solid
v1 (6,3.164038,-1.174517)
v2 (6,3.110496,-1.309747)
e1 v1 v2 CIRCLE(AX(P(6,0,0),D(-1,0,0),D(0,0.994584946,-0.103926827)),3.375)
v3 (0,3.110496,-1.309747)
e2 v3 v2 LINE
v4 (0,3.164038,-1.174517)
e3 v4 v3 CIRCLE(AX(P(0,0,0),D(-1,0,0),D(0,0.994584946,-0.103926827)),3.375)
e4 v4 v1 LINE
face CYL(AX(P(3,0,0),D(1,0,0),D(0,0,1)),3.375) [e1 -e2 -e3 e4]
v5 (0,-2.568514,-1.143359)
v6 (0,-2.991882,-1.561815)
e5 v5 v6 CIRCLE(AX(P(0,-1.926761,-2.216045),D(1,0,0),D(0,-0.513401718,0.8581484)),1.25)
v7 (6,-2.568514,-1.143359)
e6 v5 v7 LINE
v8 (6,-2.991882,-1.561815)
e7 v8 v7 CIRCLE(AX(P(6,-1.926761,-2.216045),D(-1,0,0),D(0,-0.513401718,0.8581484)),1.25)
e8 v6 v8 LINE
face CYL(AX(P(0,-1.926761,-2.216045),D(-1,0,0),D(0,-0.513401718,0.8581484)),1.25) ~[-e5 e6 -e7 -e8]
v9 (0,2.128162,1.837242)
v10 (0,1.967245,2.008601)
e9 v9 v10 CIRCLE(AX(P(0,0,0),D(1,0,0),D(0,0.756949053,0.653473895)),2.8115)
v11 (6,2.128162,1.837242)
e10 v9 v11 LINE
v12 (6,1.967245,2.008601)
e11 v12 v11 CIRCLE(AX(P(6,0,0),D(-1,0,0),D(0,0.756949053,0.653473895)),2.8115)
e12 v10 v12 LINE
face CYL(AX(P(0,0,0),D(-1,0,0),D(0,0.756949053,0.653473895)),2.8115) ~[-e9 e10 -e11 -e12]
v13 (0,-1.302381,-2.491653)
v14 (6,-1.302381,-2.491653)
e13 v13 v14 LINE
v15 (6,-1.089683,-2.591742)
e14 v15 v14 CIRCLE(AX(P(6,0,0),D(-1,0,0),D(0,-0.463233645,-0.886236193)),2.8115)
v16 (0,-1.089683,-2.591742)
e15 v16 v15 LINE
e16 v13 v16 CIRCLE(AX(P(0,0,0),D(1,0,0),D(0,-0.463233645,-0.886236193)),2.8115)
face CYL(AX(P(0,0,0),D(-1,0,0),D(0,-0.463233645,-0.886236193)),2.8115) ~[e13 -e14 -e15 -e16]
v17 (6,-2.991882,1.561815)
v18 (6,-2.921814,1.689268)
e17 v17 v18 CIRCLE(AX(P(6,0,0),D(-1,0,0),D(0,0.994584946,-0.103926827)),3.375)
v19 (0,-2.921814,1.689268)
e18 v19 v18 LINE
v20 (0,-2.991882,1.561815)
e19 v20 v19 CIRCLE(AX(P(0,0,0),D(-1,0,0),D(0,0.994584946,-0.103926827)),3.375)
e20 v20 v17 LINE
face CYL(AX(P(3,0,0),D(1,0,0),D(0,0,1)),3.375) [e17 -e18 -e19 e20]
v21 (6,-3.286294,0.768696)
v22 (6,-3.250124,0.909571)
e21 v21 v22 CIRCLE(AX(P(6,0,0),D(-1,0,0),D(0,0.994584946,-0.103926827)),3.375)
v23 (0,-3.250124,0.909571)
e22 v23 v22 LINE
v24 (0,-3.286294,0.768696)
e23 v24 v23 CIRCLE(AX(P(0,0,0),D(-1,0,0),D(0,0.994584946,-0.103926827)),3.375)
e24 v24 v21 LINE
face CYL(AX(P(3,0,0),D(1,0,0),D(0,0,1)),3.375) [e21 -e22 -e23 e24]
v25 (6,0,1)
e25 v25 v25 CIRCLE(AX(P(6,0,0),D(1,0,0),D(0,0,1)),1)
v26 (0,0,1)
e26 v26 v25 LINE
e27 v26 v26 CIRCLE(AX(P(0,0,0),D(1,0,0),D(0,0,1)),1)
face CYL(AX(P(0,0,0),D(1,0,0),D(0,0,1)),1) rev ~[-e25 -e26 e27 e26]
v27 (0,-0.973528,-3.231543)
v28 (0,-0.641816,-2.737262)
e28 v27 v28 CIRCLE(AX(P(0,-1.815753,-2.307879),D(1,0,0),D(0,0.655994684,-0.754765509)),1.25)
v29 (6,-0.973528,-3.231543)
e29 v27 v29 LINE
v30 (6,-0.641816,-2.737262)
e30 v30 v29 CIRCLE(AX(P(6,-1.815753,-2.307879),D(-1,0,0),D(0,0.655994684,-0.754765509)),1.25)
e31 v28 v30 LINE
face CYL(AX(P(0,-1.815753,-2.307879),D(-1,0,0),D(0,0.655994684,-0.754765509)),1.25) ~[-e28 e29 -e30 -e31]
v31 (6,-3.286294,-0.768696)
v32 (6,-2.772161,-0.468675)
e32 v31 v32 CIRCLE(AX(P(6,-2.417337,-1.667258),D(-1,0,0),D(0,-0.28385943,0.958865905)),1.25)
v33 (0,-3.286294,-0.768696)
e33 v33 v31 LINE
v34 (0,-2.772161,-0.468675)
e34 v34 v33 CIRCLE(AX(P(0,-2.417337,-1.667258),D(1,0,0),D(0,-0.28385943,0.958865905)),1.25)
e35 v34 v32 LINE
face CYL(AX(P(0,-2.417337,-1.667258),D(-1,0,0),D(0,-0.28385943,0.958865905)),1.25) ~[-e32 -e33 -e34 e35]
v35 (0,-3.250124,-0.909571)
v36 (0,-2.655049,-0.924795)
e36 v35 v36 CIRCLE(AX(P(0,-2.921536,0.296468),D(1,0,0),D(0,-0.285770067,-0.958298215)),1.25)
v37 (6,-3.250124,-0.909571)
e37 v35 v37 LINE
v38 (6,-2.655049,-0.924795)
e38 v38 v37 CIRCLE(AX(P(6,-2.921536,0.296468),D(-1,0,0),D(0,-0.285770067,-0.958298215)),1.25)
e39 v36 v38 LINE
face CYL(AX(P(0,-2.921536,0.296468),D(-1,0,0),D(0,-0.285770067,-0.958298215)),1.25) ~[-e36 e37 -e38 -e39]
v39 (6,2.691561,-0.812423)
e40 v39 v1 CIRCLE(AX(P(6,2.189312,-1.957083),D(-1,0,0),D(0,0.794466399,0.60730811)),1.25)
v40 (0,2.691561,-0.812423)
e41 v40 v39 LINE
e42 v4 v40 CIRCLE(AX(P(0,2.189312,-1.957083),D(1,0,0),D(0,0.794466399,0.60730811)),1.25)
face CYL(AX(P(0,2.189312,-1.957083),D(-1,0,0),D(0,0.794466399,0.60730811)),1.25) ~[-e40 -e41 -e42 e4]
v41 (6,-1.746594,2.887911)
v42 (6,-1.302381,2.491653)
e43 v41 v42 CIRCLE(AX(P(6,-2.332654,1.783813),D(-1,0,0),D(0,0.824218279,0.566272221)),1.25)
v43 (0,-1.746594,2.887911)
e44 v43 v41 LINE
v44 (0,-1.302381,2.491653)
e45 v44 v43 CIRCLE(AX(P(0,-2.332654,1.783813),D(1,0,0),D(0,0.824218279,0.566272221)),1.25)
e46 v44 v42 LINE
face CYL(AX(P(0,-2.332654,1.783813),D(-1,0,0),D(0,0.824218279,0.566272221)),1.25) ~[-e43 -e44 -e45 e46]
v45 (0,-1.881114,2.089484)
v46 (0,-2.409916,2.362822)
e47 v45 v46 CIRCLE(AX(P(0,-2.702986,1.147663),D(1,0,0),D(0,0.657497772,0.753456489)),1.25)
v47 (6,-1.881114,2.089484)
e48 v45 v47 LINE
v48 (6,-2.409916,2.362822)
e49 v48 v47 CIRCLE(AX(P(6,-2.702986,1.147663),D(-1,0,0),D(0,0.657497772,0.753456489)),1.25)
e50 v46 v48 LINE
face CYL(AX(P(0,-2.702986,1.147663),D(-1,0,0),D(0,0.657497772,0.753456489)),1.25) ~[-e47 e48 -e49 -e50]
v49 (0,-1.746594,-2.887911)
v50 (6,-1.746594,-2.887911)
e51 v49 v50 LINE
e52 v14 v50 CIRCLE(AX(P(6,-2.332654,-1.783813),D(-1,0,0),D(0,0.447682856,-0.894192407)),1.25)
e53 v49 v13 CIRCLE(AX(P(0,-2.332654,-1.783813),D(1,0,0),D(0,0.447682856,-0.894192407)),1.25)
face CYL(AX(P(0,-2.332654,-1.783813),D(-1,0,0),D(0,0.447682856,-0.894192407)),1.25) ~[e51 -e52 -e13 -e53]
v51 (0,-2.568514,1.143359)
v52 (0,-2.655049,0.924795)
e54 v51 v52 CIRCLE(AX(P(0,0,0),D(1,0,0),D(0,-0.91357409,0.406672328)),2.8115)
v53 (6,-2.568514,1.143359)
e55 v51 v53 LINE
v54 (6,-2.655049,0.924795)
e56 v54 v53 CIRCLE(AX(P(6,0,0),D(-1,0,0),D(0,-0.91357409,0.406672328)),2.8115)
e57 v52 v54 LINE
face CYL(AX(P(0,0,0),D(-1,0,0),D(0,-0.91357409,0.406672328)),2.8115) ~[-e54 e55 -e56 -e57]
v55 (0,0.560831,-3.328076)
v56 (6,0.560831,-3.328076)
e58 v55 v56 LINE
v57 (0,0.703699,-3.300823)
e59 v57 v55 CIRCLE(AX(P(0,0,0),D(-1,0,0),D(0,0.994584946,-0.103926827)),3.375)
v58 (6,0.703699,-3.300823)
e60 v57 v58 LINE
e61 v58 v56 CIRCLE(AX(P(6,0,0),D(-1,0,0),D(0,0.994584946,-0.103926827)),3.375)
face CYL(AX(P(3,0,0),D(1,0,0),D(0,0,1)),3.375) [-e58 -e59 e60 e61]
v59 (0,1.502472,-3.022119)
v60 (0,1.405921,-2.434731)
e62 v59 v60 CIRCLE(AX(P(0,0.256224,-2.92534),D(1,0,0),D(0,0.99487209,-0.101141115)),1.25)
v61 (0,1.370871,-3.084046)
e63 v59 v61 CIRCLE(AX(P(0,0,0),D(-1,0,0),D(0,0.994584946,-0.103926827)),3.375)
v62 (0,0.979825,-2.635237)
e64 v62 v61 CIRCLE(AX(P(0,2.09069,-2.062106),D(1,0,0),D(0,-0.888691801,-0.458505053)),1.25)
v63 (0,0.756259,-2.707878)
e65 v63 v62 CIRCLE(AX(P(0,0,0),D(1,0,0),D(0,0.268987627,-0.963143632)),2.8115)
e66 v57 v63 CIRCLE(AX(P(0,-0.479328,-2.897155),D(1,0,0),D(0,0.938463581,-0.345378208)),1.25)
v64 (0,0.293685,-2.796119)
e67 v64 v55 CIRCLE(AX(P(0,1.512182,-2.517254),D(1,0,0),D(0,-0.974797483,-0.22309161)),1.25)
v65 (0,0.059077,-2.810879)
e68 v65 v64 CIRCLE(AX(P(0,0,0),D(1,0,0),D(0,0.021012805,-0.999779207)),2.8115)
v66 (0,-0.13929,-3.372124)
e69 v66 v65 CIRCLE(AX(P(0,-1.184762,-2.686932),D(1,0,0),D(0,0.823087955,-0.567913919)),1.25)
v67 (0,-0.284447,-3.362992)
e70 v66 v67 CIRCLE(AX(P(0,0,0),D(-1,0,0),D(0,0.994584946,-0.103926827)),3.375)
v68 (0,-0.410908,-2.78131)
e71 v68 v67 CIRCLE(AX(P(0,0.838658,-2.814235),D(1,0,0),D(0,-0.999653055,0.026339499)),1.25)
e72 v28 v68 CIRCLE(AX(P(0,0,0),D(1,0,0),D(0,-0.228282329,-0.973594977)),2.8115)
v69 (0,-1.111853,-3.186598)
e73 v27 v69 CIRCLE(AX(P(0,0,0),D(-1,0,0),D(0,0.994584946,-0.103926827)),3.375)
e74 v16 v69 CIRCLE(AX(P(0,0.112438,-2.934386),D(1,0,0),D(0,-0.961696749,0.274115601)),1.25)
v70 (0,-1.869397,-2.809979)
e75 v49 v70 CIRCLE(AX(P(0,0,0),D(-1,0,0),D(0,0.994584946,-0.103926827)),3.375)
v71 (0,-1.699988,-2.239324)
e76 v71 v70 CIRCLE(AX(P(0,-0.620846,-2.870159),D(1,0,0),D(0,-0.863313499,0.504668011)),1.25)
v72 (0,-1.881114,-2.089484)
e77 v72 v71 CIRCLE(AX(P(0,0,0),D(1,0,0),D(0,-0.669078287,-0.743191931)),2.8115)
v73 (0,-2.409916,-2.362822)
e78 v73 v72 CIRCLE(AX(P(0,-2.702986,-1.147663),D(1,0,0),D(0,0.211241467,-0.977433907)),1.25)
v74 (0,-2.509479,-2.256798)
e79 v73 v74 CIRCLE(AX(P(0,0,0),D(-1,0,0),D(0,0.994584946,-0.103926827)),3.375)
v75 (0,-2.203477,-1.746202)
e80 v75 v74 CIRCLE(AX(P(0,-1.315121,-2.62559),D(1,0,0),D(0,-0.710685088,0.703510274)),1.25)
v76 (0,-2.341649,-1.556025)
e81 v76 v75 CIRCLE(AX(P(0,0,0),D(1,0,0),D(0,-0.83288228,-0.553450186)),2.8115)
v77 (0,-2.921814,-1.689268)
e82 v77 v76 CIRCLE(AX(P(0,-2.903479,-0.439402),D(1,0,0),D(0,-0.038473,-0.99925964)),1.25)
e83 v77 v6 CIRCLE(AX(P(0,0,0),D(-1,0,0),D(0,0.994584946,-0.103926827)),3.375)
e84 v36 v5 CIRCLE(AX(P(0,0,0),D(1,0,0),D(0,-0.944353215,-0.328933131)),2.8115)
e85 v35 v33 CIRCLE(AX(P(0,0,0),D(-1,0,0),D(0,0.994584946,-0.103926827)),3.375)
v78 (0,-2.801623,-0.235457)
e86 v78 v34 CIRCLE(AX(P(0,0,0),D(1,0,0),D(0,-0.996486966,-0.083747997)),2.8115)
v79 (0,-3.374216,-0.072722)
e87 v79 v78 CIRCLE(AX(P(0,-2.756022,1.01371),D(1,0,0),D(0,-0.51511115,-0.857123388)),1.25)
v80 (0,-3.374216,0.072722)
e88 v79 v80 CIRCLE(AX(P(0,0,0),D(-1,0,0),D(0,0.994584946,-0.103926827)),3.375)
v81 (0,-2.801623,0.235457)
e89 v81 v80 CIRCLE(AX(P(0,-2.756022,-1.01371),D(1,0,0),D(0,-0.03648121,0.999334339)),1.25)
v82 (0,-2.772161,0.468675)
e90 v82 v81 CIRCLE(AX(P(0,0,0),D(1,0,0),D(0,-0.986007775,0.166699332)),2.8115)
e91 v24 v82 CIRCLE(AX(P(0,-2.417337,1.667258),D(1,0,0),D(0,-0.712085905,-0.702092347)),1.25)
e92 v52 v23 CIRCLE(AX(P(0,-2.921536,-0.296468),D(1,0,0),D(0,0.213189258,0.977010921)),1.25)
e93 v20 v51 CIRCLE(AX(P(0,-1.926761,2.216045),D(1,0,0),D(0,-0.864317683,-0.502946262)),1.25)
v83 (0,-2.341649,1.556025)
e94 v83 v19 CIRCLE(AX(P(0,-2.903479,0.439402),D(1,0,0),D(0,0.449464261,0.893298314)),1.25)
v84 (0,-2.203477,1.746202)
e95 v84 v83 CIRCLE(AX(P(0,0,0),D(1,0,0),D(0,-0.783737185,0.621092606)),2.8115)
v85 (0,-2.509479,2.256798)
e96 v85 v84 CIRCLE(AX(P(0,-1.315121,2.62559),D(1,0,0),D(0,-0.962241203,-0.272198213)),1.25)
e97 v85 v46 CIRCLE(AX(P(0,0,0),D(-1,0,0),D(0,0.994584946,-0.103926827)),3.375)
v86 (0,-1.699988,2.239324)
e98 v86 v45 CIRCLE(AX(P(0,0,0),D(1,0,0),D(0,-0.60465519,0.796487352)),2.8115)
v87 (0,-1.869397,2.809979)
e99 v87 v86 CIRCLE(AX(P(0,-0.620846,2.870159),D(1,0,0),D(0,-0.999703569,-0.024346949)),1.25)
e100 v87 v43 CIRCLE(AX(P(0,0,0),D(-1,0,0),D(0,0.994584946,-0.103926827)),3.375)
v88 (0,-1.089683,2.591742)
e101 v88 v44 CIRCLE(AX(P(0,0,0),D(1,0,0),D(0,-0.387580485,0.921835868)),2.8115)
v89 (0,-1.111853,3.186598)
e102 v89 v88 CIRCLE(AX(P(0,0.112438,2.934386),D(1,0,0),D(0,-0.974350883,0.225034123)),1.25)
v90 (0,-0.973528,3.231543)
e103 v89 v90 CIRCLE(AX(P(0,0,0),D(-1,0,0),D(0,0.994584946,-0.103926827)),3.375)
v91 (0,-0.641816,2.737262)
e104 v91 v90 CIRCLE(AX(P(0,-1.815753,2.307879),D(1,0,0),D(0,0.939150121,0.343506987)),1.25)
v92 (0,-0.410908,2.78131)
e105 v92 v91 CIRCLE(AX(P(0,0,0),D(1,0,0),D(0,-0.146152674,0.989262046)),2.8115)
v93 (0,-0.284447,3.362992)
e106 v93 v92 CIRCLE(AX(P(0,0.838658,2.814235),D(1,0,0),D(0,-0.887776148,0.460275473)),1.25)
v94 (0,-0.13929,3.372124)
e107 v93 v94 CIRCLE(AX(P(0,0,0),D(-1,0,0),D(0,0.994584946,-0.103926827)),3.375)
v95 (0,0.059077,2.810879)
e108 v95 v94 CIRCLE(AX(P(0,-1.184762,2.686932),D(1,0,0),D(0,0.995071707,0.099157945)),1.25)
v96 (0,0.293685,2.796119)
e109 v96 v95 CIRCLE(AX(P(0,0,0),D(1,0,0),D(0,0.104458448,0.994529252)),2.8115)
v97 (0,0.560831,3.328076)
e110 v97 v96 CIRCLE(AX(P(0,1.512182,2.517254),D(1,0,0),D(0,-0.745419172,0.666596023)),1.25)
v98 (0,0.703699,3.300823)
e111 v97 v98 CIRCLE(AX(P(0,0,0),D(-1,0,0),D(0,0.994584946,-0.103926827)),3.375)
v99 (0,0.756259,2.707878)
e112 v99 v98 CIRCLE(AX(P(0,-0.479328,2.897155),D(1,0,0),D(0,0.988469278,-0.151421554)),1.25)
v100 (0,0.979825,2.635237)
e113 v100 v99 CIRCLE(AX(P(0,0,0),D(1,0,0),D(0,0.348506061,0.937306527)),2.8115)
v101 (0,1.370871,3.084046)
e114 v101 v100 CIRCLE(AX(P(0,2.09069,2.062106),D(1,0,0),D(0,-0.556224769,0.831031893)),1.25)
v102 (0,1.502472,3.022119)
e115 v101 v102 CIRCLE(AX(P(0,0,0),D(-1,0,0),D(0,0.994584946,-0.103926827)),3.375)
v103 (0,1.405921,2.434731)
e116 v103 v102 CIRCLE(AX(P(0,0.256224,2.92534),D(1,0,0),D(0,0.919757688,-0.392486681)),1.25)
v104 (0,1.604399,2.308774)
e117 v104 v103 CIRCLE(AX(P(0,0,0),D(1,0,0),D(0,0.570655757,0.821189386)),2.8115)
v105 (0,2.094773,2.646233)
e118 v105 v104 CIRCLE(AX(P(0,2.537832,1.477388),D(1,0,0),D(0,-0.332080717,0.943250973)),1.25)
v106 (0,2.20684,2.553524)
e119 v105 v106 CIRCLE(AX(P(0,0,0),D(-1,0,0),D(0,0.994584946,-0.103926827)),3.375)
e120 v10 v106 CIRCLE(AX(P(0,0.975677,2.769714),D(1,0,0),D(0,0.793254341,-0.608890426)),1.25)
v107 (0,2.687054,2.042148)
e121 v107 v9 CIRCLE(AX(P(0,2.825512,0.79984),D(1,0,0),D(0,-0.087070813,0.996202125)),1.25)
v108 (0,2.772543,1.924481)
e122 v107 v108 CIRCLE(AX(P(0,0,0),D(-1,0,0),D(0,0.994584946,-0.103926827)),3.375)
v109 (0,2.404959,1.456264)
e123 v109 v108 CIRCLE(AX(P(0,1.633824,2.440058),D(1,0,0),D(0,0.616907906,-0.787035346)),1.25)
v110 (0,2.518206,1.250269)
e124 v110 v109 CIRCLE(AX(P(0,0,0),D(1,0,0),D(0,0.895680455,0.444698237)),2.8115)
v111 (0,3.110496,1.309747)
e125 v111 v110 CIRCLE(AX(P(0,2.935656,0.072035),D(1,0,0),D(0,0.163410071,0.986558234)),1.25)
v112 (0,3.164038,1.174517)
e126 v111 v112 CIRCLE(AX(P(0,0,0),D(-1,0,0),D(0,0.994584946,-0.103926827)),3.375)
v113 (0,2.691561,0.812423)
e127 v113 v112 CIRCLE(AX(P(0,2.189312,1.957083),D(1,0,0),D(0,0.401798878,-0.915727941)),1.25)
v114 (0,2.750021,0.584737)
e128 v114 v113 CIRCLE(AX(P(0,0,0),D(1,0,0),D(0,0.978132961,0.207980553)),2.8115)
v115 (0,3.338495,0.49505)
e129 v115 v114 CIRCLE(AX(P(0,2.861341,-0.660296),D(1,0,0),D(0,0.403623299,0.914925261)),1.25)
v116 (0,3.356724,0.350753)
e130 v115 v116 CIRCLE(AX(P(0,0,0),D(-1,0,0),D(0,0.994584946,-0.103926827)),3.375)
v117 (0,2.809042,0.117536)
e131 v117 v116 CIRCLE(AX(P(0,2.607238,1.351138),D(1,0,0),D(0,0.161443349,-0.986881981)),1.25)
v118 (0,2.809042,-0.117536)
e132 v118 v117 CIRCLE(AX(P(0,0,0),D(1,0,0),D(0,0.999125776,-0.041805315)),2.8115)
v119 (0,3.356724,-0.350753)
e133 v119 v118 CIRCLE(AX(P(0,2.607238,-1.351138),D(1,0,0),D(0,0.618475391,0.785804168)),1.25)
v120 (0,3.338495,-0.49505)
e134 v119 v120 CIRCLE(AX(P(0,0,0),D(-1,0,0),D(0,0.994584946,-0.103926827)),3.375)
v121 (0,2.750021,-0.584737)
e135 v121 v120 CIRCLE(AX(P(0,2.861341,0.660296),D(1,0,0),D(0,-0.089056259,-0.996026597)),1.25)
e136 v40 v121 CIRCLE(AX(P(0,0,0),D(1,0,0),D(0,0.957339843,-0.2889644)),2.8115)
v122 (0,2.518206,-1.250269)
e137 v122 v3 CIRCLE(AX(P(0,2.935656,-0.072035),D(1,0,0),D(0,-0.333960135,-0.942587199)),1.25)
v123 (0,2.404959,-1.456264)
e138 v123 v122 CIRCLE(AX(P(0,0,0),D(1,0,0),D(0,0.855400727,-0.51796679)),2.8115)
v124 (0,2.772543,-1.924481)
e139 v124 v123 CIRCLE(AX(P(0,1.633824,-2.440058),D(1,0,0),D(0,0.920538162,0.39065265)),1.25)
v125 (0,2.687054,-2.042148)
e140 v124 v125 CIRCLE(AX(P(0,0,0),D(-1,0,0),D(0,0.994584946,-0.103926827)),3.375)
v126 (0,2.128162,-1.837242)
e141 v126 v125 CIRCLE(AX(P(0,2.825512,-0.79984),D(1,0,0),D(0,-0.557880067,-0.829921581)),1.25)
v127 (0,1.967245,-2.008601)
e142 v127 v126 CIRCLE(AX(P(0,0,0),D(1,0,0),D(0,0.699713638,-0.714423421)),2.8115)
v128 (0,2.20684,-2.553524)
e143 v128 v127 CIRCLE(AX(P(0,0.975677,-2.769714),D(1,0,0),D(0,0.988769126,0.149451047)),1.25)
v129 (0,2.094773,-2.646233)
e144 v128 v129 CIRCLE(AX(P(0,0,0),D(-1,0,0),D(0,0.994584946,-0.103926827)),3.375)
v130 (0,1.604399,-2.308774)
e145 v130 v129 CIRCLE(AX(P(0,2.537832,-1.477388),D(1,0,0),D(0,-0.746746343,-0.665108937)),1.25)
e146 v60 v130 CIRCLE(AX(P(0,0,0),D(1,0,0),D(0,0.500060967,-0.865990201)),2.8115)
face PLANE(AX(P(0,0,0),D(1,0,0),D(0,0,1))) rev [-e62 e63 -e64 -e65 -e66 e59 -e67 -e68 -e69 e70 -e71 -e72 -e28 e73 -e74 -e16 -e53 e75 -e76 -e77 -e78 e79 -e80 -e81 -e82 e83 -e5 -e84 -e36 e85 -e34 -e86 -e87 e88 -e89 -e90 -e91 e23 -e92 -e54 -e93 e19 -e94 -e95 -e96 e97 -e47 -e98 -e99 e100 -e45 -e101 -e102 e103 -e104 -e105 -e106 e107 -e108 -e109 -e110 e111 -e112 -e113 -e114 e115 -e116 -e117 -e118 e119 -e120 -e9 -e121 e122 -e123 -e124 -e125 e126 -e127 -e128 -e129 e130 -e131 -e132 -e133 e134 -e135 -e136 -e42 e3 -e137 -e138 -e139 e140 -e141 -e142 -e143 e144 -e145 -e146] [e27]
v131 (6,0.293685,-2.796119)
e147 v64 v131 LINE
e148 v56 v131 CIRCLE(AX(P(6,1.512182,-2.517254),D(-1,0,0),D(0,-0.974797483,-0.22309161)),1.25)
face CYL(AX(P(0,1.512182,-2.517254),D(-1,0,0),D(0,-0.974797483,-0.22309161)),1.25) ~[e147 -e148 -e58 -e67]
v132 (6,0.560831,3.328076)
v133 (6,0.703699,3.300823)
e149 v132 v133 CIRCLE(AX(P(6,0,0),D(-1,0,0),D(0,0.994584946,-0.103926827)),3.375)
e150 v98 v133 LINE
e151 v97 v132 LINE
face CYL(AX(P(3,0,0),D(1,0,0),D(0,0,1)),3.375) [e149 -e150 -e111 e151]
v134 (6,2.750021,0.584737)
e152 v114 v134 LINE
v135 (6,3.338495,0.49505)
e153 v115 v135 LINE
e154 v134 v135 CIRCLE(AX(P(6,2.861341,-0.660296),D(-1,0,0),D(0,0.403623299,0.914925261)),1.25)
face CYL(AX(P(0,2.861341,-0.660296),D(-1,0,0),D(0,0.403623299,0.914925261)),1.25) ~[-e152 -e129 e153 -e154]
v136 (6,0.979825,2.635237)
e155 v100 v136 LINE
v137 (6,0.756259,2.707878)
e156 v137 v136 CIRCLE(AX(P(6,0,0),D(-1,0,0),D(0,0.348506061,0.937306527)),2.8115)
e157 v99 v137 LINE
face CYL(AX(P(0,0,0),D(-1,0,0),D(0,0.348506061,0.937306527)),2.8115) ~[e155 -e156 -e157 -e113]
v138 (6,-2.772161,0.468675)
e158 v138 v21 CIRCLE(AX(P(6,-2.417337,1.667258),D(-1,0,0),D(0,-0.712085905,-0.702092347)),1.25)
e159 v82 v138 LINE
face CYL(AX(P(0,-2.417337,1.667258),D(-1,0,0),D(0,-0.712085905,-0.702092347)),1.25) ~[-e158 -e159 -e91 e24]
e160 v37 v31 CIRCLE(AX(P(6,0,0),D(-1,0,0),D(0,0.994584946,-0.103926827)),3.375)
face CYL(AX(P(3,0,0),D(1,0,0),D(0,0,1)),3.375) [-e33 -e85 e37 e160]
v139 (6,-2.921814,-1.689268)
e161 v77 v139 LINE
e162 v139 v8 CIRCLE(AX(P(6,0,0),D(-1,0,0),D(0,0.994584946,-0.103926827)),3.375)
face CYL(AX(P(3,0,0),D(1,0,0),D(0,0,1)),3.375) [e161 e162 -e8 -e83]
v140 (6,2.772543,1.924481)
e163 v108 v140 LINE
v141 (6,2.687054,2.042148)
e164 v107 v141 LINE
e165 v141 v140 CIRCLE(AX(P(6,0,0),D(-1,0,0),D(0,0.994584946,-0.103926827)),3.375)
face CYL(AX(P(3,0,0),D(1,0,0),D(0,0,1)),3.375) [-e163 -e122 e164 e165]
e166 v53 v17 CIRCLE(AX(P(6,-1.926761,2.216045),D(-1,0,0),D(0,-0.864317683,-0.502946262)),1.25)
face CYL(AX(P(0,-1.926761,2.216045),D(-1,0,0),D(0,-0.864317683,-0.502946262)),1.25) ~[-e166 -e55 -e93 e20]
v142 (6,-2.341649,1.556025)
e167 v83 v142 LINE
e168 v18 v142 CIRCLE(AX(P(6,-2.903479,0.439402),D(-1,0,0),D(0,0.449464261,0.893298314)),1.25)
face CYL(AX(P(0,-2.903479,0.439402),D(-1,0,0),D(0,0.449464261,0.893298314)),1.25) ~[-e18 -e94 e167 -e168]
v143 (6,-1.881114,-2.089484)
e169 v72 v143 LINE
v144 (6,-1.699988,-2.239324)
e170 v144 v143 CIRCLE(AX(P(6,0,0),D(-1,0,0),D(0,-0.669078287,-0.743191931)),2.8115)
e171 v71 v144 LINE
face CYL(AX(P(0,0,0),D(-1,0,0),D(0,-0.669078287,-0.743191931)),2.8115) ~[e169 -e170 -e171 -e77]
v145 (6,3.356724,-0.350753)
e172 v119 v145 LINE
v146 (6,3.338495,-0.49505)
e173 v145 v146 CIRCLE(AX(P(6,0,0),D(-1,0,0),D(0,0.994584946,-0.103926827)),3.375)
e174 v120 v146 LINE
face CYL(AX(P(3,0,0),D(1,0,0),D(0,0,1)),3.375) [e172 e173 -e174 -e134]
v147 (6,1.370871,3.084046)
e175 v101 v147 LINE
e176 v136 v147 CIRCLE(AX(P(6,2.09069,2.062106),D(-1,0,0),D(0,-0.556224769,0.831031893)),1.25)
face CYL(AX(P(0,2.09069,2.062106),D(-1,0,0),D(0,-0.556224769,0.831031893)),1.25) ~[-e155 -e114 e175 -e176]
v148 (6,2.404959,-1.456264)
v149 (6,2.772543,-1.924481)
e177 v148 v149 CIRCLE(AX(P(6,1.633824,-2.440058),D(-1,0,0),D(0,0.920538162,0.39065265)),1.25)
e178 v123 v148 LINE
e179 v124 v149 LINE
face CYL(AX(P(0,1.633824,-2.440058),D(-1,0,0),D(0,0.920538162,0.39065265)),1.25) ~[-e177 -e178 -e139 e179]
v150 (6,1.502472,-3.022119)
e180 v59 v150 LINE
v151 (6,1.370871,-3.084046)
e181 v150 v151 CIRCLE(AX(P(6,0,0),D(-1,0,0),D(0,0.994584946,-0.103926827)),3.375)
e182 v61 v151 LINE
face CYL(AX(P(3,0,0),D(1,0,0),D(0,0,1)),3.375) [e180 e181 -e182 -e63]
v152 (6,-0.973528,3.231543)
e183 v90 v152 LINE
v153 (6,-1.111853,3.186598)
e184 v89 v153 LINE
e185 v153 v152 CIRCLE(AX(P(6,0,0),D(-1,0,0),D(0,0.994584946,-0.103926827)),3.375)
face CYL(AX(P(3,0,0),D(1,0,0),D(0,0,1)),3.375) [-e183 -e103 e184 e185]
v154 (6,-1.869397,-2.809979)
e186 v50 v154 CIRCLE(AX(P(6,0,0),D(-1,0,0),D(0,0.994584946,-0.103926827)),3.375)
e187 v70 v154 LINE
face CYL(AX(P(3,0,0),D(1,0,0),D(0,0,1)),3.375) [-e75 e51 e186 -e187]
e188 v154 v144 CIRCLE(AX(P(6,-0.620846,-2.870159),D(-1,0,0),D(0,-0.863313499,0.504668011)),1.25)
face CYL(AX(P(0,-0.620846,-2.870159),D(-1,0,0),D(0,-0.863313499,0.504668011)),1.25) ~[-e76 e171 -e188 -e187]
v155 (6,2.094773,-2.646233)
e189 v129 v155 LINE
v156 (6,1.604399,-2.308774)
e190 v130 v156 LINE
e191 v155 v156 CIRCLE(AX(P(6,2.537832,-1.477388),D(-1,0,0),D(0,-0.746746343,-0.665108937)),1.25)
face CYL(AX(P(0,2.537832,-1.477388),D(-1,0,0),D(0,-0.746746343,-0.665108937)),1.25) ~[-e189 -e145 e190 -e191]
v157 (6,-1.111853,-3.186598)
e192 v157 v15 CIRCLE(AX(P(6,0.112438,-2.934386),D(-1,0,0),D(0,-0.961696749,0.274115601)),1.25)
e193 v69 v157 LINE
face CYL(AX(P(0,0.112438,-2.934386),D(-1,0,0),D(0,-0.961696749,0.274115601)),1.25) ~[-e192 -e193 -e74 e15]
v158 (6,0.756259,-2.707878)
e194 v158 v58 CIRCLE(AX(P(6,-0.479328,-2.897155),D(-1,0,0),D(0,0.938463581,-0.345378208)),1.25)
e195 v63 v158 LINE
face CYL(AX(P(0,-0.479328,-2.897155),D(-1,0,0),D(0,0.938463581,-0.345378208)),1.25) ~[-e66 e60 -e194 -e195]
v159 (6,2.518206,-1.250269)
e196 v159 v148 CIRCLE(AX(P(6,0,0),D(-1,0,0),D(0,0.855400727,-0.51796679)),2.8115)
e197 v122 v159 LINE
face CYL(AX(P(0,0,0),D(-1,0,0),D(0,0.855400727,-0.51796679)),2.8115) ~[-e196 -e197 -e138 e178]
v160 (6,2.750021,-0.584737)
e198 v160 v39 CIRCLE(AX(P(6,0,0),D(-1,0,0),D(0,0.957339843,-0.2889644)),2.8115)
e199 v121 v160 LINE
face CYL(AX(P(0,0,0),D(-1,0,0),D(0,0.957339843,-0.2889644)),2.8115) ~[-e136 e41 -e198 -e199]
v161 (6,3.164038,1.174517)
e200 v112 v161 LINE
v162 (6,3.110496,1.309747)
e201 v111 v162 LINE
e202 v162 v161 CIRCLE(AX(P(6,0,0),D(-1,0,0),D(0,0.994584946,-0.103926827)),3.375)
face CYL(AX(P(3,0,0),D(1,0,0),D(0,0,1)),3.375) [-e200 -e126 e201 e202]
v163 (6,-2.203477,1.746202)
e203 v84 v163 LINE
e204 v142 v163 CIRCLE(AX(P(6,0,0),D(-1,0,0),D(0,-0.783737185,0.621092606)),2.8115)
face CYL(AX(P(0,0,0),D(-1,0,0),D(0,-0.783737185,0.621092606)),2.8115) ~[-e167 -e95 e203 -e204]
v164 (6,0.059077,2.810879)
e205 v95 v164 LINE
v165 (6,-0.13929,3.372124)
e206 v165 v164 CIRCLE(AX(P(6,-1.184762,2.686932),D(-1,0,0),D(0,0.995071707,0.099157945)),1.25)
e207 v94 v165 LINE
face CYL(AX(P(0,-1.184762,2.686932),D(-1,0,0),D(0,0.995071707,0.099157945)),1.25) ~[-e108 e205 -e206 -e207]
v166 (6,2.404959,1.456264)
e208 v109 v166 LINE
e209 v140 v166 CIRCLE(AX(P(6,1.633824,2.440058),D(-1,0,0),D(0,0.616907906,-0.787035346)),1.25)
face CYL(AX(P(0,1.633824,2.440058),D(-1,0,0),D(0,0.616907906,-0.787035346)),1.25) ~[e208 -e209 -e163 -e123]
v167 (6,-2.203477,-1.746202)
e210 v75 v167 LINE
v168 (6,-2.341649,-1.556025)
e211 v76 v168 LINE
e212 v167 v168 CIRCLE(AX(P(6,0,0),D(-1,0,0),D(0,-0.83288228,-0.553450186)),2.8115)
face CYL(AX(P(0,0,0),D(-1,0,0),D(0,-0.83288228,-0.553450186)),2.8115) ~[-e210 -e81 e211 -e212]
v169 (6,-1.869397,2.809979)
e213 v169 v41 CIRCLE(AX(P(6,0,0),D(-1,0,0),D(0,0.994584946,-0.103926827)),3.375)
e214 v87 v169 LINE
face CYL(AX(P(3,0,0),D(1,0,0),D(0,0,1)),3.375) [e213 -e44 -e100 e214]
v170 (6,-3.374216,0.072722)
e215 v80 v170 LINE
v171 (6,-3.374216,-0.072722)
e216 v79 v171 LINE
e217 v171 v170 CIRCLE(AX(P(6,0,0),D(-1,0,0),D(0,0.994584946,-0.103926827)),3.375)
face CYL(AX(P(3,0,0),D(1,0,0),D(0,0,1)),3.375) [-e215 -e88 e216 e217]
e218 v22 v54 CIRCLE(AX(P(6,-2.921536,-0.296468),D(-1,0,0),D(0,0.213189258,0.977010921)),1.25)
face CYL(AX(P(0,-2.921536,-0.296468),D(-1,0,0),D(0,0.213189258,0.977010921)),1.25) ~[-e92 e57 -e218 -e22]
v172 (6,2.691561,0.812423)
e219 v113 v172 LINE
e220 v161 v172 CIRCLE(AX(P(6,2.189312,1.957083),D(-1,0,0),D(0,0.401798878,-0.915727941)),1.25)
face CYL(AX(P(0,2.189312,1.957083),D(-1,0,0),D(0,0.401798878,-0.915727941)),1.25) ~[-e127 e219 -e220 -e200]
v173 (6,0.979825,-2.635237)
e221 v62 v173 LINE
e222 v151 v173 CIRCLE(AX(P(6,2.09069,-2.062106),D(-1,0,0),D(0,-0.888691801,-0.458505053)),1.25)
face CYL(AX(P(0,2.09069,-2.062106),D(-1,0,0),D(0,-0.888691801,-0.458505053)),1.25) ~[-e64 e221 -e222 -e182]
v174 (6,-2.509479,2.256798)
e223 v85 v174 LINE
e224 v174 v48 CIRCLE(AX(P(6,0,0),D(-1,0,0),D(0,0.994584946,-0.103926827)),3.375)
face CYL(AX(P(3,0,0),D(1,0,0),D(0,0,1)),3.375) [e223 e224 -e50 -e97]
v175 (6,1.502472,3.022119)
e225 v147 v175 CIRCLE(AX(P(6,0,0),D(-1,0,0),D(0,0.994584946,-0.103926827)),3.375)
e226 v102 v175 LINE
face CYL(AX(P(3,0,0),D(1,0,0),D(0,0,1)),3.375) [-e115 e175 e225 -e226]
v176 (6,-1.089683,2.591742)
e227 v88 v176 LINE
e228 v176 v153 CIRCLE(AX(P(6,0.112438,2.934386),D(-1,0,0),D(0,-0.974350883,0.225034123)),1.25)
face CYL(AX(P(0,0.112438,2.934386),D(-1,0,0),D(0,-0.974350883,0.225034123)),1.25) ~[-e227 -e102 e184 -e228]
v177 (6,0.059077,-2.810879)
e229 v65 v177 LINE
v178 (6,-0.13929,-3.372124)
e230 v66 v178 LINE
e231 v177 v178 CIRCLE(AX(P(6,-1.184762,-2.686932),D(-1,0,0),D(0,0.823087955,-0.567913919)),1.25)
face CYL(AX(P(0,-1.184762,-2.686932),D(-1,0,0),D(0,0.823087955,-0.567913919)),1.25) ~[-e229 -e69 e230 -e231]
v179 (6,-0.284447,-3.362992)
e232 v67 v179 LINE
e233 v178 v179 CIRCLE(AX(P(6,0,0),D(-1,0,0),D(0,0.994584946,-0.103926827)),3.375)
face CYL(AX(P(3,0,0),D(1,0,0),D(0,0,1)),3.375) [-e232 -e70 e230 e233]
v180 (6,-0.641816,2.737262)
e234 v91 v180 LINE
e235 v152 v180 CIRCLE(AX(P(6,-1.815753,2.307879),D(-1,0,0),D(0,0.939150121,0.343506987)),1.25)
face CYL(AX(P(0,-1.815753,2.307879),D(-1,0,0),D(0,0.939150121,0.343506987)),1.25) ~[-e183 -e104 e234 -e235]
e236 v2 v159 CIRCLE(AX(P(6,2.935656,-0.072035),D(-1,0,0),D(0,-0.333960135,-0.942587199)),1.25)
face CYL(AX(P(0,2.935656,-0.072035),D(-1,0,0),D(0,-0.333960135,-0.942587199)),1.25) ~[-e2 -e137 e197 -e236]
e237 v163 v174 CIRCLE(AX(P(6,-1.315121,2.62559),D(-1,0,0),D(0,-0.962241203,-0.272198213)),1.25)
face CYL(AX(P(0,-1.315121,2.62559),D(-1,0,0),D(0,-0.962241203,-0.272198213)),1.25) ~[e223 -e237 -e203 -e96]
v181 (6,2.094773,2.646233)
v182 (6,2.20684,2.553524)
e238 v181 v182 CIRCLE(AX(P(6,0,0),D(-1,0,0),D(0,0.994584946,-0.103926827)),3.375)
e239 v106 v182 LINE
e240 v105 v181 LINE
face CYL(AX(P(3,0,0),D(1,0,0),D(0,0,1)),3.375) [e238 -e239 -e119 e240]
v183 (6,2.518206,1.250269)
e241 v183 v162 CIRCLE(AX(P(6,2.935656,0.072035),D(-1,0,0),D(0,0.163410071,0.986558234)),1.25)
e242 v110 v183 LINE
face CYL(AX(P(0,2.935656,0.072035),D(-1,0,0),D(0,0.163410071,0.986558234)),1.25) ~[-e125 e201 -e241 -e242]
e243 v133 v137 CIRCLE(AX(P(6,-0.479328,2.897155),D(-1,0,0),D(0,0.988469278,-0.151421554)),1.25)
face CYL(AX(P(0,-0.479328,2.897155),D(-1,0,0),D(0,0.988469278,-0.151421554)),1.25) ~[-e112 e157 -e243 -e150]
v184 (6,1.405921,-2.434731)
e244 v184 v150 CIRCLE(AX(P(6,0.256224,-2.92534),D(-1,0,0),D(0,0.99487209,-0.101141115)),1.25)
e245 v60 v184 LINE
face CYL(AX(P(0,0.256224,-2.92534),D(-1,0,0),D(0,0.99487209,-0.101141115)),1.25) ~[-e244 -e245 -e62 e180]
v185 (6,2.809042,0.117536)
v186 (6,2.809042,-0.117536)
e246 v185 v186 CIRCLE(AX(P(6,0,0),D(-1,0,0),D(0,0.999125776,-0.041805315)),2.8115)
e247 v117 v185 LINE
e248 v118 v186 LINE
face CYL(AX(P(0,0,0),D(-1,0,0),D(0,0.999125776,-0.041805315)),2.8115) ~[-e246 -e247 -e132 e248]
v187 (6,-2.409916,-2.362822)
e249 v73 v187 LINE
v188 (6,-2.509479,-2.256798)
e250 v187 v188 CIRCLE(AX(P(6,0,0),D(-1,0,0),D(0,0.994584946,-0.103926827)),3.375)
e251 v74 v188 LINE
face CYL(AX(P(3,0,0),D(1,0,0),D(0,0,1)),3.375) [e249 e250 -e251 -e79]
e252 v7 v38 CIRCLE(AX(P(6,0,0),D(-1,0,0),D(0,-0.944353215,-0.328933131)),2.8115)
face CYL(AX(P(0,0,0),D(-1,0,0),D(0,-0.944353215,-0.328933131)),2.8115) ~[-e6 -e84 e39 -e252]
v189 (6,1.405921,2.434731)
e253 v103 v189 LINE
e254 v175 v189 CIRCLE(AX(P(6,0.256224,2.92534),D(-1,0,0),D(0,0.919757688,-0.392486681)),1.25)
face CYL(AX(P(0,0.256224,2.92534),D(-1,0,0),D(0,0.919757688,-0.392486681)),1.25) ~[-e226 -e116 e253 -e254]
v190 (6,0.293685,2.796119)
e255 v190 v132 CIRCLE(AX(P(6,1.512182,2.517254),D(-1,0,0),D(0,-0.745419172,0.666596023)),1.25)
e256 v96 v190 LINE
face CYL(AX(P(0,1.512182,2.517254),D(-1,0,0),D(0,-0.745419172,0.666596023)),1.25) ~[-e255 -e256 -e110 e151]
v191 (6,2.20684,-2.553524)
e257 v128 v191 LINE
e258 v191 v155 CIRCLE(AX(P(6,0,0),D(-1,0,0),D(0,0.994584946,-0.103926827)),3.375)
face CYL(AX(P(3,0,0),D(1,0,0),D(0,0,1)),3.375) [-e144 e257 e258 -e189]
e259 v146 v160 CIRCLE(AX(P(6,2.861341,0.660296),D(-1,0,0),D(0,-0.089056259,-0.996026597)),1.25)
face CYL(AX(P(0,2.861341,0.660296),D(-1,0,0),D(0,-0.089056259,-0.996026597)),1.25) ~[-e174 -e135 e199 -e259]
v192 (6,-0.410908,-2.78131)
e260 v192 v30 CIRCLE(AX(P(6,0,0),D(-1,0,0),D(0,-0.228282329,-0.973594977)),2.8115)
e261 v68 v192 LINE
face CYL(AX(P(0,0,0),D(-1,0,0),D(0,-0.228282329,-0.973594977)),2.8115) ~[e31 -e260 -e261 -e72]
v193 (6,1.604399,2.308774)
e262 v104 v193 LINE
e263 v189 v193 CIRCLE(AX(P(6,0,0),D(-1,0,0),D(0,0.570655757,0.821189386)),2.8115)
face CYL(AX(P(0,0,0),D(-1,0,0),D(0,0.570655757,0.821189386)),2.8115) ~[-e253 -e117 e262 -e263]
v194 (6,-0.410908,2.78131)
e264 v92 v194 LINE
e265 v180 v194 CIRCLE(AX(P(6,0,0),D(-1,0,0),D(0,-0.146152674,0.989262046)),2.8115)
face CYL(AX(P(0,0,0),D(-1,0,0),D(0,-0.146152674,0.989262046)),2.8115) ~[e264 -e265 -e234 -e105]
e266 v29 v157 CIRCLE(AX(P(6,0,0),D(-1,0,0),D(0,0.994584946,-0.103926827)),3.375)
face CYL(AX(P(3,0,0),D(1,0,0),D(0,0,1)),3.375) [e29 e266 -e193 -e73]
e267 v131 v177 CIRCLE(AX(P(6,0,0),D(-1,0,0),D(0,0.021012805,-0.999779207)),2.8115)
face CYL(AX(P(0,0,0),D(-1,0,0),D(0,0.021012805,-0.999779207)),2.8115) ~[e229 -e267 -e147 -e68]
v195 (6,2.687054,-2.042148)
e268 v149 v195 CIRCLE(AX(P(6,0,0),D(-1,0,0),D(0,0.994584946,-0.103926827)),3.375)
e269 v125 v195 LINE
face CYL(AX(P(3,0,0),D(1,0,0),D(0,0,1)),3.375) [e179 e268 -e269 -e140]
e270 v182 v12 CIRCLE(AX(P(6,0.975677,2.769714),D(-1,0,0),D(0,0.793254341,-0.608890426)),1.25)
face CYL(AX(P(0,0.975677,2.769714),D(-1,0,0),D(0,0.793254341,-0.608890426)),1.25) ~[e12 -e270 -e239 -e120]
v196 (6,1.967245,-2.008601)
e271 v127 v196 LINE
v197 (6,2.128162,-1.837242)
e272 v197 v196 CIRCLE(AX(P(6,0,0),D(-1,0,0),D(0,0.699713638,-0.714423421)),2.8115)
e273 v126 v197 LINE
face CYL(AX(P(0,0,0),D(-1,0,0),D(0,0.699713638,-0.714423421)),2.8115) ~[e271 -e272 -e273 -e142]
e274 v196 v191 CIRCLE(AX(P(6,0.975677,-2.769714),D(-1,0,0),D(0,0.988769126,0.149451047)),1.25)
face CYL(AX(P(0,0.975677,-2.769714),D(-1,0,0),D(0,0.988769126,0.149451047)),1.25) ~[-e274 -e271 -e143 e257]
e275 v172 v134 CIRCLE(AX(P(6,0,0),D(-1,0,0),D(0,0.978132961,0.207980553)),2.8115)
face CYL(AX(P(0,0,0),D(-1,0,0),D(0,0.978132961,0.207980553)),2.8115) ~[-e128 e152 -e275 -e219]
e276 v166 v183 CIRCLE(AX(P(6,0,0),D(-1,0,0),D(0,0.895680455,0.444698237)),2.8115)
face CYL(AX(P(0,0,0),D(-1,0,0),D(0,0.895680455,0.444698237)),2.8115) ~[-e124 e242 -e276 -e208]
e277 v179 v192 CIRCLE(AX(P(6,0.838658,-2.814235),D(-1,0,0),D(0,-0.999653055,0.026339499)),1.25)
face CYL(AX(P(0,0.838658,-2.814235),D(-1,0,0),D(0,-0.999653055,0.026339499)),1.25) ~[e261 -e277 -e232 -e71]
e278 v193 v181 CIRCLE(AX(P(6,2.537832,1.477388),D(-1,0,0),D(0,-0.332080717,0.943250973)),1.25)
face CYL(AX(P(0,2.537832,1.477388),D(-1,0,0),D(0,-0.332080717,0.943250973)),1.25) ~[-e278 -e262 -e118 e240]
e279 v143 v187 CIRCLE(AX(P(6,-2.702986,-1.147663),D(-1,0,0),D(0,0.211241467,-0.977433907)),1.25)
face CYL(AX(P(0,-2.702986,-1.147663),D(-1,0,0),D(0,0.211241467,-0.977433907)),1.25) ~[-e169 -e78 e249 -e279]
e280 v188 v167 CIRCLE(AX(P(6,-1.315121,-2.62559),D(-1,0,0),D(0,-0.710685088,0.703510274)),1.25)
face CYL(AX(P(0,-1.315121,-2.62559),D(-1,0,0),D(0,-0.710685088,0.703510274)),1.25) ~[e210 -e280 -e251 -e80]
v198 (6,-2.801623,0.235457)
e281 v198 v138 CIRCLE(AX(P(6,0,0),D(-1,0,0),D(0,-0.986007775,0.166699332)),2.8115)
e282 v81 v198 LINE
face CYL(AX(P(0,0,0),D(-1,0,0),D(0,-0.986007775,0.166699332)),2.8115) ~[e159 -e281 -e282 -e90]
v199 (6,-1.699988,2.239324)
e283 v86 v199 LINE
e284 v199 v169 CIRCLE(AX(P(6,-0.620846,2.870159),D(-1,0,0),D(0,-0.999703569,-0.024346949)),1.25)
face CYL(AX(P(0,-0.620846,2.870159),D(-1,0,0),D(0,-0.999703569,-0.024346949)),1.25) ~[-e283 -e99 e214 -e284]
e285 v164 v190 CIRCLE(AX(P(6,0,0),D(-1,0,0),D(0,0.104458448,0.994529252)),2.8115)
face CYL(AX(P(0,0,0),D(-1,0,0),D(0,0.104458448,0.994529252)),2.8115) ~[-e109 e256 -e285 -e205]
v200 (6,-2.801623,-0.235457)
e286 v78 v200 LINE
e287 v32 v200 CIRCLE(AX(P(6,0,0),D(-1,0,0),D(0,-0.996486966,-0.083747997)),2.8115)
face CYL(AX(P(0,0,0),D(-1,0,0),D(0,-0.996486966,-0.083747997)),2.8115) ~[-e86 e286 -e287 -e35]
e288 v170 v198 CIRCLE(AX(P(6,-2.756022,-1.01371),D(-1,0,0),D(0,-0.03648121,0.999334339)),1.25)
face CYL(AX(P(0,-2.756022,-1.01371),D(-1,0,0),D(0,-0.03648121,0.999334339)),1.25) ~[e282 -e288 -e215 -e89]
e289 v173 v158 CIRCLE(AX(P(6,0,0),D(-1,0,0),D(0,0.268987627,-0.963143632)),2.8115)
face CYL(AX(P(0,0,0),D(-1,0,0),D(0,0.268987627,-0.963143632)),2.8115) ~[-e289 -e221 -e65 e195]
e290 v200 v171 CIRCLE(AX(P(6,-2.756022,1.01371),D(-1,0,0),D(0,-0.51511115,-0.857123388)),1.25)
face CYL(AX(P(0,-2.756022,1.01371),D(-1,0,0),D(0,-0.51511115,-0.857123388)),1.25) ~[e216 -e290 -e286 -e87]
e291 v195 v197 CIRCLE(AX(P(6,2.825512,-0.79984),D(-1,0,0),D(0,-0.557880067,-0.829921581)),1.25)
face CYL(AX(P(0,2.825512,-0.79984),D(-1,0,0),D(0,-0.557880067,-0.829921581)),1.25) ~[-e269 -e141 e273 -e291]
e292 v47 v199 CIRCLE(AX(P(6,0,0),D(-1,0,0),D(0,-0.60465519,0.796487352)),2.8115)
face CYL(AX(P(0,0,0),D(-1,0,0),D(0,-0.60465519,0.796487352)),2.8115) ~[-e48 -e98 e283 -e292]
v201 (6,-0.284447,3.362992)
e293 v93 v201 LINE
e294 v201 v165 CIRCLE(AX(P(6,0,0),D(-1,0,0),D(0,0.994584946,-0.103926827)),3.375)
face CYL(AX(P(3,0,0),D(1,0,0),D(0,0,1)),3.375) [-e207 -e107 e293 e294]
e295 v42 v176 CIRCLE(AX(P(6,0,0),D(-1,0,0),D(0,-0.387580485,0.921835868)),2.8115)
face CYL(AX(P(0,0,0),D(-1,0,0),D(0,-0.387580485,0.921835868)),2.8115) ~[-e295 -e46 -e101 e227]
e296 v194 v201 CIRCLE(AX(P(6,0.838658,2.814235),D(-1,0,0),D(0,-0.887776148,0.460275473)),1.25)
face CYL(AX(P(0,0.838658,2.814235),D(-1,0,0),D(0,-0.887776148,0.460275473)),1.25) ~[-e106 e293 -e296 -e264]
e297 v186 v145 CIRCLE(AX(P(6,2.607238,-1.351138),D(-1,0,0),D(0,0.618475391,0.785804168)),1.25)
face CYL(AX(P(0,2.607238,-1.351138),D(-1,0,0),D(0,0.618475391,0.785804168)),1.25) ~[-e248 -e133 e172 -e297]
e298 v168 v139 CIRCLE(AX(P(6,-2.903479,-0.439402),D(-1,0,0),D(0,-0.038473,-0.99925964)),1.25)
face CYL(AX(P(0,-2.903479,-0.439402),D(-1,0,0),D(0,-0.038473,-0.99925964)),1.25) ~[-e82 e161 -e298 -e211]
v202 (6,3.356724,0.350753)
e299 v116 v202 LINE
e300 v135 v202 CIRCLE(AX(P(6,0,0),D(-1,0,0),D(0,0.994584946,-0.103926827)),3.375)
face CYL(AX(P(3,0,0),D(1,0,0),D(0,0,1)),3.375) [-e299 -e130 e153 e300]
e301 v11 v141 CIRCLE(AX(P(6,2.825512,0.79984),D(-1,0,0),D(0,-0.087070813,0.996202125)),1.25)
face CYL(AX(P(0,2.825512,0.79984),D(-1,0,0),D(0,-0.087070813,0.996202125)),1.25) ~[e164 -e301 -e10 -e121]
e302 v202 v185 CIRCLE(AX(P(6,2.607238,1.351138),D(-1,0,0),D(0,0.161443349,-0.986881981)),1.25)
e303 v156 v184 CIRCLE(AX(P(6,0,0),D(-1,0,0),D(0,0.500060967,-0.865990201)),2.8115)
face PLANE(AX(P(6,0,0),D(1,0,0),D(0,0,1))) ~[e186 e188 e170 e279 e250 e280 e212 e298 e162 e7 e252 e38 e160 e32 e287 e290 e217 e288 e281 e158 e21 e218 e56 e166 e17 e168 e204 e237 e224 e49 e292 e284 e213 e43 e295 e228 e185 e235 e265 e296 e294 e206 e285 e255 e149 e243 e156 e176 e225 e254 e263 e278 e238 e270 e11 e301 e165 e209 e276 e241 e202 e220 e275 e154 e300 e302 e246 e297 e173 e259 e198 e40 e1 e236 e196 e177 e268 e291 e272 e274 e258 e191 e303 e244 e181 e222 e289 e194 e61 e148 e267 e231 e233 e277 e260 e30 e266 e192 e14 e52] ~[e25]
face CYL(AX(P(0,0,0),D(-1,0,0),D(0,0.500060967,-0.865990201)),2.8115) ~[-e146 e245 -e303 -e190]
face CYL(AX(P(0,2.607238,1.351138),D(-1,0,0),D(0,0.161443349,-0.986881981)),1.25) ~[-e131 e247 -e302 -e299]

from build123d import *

# Parameters (mm, degrees)
BASPROSKE_W     = 6
BASPROSKE_H     = 3.375
TOOTHCUT_DEPTH  = 8.666893113
TEETHCUTS_COUNT = 25
TEETHCUTS_ANGLE = 345.6
BORSKE_R        = 1
BORE_DEPTH      = 50.0000508


with BuildPart() as part:
    # BasProSke → Base-Revolve (revolve)
    with BuildSketch(Plane(origin=(0, 0, 0), x_dir=(1, 0, 0), z_dir=(0, 1, 0)), mode=Mode.PRIVATE) as base_revolve_sk:
        with Locations((3, 1.6875)):
            Rectangle(BASPROSKE_W, BASPROSKE_H)
    revolve(base_revolve_sk.sketch.rotate(Axis((-10, 0, 0), (1, 0, 0)), 180), axis=Axis((-10, 0, 0), (1, 0, 0)))

    # TooCutSke → ToothCut (cut, through all)
    with BuildSketch(Plane(origin=(0, 0, 0), x_dir=(0, 0, -1), z_dir=(1, 0, 0))):
        with BuildLine():
            ThreePointArc((0.11753566, 2.809042118), (0, 2.8115), (-0.11753566, 2.809042118))
            ThreePointArc((-0.11753566, 2.809042118), (-0.206979317, 3.11062704), (-0.368882924, 3.380332165))
            ThreePointArc((-0.368882924, 3.380332165), (0, 3.4004), (0.368882924, 3.380332165))
            ThreePointArc((0.368882924, 3.380332165), (0.206979317, 3.11062704), (0.11753566, 2.809042118))
        make_face()
    toothcut = extrude(amount=TOOTHCUT_DEPTH, mode=Mode.SUBTRACT)

    # TeethCuts: ToothCut ×25 about axis
    teethcuts_axis = Axis((-10, 0, 0), (1, 0, 0))
    for i in range(1, TEETHCUTS_COUNT):
        add(toothcut.rotate(teethcuts_axis, i * TEETHCUTS_ANGLE / (TEETHCUTS_COUNT - 1)), mode=Mode.SUBTRACT)

    # BorSke → Bore (cut, symmetric)
    with BuildSketch(Plane(origin=(0, 0, 0), x_dir=(0, 0, -1), z_dir=(1, 0, 0))):
        with Locations(Location((0, 0, 0), (0, 0, 180))):
            Circle(BORSKE_R)
    extrude(amount=BORE_DEPTH, both=True, mode=Mode.SUBTRACT)


solid = part.part
